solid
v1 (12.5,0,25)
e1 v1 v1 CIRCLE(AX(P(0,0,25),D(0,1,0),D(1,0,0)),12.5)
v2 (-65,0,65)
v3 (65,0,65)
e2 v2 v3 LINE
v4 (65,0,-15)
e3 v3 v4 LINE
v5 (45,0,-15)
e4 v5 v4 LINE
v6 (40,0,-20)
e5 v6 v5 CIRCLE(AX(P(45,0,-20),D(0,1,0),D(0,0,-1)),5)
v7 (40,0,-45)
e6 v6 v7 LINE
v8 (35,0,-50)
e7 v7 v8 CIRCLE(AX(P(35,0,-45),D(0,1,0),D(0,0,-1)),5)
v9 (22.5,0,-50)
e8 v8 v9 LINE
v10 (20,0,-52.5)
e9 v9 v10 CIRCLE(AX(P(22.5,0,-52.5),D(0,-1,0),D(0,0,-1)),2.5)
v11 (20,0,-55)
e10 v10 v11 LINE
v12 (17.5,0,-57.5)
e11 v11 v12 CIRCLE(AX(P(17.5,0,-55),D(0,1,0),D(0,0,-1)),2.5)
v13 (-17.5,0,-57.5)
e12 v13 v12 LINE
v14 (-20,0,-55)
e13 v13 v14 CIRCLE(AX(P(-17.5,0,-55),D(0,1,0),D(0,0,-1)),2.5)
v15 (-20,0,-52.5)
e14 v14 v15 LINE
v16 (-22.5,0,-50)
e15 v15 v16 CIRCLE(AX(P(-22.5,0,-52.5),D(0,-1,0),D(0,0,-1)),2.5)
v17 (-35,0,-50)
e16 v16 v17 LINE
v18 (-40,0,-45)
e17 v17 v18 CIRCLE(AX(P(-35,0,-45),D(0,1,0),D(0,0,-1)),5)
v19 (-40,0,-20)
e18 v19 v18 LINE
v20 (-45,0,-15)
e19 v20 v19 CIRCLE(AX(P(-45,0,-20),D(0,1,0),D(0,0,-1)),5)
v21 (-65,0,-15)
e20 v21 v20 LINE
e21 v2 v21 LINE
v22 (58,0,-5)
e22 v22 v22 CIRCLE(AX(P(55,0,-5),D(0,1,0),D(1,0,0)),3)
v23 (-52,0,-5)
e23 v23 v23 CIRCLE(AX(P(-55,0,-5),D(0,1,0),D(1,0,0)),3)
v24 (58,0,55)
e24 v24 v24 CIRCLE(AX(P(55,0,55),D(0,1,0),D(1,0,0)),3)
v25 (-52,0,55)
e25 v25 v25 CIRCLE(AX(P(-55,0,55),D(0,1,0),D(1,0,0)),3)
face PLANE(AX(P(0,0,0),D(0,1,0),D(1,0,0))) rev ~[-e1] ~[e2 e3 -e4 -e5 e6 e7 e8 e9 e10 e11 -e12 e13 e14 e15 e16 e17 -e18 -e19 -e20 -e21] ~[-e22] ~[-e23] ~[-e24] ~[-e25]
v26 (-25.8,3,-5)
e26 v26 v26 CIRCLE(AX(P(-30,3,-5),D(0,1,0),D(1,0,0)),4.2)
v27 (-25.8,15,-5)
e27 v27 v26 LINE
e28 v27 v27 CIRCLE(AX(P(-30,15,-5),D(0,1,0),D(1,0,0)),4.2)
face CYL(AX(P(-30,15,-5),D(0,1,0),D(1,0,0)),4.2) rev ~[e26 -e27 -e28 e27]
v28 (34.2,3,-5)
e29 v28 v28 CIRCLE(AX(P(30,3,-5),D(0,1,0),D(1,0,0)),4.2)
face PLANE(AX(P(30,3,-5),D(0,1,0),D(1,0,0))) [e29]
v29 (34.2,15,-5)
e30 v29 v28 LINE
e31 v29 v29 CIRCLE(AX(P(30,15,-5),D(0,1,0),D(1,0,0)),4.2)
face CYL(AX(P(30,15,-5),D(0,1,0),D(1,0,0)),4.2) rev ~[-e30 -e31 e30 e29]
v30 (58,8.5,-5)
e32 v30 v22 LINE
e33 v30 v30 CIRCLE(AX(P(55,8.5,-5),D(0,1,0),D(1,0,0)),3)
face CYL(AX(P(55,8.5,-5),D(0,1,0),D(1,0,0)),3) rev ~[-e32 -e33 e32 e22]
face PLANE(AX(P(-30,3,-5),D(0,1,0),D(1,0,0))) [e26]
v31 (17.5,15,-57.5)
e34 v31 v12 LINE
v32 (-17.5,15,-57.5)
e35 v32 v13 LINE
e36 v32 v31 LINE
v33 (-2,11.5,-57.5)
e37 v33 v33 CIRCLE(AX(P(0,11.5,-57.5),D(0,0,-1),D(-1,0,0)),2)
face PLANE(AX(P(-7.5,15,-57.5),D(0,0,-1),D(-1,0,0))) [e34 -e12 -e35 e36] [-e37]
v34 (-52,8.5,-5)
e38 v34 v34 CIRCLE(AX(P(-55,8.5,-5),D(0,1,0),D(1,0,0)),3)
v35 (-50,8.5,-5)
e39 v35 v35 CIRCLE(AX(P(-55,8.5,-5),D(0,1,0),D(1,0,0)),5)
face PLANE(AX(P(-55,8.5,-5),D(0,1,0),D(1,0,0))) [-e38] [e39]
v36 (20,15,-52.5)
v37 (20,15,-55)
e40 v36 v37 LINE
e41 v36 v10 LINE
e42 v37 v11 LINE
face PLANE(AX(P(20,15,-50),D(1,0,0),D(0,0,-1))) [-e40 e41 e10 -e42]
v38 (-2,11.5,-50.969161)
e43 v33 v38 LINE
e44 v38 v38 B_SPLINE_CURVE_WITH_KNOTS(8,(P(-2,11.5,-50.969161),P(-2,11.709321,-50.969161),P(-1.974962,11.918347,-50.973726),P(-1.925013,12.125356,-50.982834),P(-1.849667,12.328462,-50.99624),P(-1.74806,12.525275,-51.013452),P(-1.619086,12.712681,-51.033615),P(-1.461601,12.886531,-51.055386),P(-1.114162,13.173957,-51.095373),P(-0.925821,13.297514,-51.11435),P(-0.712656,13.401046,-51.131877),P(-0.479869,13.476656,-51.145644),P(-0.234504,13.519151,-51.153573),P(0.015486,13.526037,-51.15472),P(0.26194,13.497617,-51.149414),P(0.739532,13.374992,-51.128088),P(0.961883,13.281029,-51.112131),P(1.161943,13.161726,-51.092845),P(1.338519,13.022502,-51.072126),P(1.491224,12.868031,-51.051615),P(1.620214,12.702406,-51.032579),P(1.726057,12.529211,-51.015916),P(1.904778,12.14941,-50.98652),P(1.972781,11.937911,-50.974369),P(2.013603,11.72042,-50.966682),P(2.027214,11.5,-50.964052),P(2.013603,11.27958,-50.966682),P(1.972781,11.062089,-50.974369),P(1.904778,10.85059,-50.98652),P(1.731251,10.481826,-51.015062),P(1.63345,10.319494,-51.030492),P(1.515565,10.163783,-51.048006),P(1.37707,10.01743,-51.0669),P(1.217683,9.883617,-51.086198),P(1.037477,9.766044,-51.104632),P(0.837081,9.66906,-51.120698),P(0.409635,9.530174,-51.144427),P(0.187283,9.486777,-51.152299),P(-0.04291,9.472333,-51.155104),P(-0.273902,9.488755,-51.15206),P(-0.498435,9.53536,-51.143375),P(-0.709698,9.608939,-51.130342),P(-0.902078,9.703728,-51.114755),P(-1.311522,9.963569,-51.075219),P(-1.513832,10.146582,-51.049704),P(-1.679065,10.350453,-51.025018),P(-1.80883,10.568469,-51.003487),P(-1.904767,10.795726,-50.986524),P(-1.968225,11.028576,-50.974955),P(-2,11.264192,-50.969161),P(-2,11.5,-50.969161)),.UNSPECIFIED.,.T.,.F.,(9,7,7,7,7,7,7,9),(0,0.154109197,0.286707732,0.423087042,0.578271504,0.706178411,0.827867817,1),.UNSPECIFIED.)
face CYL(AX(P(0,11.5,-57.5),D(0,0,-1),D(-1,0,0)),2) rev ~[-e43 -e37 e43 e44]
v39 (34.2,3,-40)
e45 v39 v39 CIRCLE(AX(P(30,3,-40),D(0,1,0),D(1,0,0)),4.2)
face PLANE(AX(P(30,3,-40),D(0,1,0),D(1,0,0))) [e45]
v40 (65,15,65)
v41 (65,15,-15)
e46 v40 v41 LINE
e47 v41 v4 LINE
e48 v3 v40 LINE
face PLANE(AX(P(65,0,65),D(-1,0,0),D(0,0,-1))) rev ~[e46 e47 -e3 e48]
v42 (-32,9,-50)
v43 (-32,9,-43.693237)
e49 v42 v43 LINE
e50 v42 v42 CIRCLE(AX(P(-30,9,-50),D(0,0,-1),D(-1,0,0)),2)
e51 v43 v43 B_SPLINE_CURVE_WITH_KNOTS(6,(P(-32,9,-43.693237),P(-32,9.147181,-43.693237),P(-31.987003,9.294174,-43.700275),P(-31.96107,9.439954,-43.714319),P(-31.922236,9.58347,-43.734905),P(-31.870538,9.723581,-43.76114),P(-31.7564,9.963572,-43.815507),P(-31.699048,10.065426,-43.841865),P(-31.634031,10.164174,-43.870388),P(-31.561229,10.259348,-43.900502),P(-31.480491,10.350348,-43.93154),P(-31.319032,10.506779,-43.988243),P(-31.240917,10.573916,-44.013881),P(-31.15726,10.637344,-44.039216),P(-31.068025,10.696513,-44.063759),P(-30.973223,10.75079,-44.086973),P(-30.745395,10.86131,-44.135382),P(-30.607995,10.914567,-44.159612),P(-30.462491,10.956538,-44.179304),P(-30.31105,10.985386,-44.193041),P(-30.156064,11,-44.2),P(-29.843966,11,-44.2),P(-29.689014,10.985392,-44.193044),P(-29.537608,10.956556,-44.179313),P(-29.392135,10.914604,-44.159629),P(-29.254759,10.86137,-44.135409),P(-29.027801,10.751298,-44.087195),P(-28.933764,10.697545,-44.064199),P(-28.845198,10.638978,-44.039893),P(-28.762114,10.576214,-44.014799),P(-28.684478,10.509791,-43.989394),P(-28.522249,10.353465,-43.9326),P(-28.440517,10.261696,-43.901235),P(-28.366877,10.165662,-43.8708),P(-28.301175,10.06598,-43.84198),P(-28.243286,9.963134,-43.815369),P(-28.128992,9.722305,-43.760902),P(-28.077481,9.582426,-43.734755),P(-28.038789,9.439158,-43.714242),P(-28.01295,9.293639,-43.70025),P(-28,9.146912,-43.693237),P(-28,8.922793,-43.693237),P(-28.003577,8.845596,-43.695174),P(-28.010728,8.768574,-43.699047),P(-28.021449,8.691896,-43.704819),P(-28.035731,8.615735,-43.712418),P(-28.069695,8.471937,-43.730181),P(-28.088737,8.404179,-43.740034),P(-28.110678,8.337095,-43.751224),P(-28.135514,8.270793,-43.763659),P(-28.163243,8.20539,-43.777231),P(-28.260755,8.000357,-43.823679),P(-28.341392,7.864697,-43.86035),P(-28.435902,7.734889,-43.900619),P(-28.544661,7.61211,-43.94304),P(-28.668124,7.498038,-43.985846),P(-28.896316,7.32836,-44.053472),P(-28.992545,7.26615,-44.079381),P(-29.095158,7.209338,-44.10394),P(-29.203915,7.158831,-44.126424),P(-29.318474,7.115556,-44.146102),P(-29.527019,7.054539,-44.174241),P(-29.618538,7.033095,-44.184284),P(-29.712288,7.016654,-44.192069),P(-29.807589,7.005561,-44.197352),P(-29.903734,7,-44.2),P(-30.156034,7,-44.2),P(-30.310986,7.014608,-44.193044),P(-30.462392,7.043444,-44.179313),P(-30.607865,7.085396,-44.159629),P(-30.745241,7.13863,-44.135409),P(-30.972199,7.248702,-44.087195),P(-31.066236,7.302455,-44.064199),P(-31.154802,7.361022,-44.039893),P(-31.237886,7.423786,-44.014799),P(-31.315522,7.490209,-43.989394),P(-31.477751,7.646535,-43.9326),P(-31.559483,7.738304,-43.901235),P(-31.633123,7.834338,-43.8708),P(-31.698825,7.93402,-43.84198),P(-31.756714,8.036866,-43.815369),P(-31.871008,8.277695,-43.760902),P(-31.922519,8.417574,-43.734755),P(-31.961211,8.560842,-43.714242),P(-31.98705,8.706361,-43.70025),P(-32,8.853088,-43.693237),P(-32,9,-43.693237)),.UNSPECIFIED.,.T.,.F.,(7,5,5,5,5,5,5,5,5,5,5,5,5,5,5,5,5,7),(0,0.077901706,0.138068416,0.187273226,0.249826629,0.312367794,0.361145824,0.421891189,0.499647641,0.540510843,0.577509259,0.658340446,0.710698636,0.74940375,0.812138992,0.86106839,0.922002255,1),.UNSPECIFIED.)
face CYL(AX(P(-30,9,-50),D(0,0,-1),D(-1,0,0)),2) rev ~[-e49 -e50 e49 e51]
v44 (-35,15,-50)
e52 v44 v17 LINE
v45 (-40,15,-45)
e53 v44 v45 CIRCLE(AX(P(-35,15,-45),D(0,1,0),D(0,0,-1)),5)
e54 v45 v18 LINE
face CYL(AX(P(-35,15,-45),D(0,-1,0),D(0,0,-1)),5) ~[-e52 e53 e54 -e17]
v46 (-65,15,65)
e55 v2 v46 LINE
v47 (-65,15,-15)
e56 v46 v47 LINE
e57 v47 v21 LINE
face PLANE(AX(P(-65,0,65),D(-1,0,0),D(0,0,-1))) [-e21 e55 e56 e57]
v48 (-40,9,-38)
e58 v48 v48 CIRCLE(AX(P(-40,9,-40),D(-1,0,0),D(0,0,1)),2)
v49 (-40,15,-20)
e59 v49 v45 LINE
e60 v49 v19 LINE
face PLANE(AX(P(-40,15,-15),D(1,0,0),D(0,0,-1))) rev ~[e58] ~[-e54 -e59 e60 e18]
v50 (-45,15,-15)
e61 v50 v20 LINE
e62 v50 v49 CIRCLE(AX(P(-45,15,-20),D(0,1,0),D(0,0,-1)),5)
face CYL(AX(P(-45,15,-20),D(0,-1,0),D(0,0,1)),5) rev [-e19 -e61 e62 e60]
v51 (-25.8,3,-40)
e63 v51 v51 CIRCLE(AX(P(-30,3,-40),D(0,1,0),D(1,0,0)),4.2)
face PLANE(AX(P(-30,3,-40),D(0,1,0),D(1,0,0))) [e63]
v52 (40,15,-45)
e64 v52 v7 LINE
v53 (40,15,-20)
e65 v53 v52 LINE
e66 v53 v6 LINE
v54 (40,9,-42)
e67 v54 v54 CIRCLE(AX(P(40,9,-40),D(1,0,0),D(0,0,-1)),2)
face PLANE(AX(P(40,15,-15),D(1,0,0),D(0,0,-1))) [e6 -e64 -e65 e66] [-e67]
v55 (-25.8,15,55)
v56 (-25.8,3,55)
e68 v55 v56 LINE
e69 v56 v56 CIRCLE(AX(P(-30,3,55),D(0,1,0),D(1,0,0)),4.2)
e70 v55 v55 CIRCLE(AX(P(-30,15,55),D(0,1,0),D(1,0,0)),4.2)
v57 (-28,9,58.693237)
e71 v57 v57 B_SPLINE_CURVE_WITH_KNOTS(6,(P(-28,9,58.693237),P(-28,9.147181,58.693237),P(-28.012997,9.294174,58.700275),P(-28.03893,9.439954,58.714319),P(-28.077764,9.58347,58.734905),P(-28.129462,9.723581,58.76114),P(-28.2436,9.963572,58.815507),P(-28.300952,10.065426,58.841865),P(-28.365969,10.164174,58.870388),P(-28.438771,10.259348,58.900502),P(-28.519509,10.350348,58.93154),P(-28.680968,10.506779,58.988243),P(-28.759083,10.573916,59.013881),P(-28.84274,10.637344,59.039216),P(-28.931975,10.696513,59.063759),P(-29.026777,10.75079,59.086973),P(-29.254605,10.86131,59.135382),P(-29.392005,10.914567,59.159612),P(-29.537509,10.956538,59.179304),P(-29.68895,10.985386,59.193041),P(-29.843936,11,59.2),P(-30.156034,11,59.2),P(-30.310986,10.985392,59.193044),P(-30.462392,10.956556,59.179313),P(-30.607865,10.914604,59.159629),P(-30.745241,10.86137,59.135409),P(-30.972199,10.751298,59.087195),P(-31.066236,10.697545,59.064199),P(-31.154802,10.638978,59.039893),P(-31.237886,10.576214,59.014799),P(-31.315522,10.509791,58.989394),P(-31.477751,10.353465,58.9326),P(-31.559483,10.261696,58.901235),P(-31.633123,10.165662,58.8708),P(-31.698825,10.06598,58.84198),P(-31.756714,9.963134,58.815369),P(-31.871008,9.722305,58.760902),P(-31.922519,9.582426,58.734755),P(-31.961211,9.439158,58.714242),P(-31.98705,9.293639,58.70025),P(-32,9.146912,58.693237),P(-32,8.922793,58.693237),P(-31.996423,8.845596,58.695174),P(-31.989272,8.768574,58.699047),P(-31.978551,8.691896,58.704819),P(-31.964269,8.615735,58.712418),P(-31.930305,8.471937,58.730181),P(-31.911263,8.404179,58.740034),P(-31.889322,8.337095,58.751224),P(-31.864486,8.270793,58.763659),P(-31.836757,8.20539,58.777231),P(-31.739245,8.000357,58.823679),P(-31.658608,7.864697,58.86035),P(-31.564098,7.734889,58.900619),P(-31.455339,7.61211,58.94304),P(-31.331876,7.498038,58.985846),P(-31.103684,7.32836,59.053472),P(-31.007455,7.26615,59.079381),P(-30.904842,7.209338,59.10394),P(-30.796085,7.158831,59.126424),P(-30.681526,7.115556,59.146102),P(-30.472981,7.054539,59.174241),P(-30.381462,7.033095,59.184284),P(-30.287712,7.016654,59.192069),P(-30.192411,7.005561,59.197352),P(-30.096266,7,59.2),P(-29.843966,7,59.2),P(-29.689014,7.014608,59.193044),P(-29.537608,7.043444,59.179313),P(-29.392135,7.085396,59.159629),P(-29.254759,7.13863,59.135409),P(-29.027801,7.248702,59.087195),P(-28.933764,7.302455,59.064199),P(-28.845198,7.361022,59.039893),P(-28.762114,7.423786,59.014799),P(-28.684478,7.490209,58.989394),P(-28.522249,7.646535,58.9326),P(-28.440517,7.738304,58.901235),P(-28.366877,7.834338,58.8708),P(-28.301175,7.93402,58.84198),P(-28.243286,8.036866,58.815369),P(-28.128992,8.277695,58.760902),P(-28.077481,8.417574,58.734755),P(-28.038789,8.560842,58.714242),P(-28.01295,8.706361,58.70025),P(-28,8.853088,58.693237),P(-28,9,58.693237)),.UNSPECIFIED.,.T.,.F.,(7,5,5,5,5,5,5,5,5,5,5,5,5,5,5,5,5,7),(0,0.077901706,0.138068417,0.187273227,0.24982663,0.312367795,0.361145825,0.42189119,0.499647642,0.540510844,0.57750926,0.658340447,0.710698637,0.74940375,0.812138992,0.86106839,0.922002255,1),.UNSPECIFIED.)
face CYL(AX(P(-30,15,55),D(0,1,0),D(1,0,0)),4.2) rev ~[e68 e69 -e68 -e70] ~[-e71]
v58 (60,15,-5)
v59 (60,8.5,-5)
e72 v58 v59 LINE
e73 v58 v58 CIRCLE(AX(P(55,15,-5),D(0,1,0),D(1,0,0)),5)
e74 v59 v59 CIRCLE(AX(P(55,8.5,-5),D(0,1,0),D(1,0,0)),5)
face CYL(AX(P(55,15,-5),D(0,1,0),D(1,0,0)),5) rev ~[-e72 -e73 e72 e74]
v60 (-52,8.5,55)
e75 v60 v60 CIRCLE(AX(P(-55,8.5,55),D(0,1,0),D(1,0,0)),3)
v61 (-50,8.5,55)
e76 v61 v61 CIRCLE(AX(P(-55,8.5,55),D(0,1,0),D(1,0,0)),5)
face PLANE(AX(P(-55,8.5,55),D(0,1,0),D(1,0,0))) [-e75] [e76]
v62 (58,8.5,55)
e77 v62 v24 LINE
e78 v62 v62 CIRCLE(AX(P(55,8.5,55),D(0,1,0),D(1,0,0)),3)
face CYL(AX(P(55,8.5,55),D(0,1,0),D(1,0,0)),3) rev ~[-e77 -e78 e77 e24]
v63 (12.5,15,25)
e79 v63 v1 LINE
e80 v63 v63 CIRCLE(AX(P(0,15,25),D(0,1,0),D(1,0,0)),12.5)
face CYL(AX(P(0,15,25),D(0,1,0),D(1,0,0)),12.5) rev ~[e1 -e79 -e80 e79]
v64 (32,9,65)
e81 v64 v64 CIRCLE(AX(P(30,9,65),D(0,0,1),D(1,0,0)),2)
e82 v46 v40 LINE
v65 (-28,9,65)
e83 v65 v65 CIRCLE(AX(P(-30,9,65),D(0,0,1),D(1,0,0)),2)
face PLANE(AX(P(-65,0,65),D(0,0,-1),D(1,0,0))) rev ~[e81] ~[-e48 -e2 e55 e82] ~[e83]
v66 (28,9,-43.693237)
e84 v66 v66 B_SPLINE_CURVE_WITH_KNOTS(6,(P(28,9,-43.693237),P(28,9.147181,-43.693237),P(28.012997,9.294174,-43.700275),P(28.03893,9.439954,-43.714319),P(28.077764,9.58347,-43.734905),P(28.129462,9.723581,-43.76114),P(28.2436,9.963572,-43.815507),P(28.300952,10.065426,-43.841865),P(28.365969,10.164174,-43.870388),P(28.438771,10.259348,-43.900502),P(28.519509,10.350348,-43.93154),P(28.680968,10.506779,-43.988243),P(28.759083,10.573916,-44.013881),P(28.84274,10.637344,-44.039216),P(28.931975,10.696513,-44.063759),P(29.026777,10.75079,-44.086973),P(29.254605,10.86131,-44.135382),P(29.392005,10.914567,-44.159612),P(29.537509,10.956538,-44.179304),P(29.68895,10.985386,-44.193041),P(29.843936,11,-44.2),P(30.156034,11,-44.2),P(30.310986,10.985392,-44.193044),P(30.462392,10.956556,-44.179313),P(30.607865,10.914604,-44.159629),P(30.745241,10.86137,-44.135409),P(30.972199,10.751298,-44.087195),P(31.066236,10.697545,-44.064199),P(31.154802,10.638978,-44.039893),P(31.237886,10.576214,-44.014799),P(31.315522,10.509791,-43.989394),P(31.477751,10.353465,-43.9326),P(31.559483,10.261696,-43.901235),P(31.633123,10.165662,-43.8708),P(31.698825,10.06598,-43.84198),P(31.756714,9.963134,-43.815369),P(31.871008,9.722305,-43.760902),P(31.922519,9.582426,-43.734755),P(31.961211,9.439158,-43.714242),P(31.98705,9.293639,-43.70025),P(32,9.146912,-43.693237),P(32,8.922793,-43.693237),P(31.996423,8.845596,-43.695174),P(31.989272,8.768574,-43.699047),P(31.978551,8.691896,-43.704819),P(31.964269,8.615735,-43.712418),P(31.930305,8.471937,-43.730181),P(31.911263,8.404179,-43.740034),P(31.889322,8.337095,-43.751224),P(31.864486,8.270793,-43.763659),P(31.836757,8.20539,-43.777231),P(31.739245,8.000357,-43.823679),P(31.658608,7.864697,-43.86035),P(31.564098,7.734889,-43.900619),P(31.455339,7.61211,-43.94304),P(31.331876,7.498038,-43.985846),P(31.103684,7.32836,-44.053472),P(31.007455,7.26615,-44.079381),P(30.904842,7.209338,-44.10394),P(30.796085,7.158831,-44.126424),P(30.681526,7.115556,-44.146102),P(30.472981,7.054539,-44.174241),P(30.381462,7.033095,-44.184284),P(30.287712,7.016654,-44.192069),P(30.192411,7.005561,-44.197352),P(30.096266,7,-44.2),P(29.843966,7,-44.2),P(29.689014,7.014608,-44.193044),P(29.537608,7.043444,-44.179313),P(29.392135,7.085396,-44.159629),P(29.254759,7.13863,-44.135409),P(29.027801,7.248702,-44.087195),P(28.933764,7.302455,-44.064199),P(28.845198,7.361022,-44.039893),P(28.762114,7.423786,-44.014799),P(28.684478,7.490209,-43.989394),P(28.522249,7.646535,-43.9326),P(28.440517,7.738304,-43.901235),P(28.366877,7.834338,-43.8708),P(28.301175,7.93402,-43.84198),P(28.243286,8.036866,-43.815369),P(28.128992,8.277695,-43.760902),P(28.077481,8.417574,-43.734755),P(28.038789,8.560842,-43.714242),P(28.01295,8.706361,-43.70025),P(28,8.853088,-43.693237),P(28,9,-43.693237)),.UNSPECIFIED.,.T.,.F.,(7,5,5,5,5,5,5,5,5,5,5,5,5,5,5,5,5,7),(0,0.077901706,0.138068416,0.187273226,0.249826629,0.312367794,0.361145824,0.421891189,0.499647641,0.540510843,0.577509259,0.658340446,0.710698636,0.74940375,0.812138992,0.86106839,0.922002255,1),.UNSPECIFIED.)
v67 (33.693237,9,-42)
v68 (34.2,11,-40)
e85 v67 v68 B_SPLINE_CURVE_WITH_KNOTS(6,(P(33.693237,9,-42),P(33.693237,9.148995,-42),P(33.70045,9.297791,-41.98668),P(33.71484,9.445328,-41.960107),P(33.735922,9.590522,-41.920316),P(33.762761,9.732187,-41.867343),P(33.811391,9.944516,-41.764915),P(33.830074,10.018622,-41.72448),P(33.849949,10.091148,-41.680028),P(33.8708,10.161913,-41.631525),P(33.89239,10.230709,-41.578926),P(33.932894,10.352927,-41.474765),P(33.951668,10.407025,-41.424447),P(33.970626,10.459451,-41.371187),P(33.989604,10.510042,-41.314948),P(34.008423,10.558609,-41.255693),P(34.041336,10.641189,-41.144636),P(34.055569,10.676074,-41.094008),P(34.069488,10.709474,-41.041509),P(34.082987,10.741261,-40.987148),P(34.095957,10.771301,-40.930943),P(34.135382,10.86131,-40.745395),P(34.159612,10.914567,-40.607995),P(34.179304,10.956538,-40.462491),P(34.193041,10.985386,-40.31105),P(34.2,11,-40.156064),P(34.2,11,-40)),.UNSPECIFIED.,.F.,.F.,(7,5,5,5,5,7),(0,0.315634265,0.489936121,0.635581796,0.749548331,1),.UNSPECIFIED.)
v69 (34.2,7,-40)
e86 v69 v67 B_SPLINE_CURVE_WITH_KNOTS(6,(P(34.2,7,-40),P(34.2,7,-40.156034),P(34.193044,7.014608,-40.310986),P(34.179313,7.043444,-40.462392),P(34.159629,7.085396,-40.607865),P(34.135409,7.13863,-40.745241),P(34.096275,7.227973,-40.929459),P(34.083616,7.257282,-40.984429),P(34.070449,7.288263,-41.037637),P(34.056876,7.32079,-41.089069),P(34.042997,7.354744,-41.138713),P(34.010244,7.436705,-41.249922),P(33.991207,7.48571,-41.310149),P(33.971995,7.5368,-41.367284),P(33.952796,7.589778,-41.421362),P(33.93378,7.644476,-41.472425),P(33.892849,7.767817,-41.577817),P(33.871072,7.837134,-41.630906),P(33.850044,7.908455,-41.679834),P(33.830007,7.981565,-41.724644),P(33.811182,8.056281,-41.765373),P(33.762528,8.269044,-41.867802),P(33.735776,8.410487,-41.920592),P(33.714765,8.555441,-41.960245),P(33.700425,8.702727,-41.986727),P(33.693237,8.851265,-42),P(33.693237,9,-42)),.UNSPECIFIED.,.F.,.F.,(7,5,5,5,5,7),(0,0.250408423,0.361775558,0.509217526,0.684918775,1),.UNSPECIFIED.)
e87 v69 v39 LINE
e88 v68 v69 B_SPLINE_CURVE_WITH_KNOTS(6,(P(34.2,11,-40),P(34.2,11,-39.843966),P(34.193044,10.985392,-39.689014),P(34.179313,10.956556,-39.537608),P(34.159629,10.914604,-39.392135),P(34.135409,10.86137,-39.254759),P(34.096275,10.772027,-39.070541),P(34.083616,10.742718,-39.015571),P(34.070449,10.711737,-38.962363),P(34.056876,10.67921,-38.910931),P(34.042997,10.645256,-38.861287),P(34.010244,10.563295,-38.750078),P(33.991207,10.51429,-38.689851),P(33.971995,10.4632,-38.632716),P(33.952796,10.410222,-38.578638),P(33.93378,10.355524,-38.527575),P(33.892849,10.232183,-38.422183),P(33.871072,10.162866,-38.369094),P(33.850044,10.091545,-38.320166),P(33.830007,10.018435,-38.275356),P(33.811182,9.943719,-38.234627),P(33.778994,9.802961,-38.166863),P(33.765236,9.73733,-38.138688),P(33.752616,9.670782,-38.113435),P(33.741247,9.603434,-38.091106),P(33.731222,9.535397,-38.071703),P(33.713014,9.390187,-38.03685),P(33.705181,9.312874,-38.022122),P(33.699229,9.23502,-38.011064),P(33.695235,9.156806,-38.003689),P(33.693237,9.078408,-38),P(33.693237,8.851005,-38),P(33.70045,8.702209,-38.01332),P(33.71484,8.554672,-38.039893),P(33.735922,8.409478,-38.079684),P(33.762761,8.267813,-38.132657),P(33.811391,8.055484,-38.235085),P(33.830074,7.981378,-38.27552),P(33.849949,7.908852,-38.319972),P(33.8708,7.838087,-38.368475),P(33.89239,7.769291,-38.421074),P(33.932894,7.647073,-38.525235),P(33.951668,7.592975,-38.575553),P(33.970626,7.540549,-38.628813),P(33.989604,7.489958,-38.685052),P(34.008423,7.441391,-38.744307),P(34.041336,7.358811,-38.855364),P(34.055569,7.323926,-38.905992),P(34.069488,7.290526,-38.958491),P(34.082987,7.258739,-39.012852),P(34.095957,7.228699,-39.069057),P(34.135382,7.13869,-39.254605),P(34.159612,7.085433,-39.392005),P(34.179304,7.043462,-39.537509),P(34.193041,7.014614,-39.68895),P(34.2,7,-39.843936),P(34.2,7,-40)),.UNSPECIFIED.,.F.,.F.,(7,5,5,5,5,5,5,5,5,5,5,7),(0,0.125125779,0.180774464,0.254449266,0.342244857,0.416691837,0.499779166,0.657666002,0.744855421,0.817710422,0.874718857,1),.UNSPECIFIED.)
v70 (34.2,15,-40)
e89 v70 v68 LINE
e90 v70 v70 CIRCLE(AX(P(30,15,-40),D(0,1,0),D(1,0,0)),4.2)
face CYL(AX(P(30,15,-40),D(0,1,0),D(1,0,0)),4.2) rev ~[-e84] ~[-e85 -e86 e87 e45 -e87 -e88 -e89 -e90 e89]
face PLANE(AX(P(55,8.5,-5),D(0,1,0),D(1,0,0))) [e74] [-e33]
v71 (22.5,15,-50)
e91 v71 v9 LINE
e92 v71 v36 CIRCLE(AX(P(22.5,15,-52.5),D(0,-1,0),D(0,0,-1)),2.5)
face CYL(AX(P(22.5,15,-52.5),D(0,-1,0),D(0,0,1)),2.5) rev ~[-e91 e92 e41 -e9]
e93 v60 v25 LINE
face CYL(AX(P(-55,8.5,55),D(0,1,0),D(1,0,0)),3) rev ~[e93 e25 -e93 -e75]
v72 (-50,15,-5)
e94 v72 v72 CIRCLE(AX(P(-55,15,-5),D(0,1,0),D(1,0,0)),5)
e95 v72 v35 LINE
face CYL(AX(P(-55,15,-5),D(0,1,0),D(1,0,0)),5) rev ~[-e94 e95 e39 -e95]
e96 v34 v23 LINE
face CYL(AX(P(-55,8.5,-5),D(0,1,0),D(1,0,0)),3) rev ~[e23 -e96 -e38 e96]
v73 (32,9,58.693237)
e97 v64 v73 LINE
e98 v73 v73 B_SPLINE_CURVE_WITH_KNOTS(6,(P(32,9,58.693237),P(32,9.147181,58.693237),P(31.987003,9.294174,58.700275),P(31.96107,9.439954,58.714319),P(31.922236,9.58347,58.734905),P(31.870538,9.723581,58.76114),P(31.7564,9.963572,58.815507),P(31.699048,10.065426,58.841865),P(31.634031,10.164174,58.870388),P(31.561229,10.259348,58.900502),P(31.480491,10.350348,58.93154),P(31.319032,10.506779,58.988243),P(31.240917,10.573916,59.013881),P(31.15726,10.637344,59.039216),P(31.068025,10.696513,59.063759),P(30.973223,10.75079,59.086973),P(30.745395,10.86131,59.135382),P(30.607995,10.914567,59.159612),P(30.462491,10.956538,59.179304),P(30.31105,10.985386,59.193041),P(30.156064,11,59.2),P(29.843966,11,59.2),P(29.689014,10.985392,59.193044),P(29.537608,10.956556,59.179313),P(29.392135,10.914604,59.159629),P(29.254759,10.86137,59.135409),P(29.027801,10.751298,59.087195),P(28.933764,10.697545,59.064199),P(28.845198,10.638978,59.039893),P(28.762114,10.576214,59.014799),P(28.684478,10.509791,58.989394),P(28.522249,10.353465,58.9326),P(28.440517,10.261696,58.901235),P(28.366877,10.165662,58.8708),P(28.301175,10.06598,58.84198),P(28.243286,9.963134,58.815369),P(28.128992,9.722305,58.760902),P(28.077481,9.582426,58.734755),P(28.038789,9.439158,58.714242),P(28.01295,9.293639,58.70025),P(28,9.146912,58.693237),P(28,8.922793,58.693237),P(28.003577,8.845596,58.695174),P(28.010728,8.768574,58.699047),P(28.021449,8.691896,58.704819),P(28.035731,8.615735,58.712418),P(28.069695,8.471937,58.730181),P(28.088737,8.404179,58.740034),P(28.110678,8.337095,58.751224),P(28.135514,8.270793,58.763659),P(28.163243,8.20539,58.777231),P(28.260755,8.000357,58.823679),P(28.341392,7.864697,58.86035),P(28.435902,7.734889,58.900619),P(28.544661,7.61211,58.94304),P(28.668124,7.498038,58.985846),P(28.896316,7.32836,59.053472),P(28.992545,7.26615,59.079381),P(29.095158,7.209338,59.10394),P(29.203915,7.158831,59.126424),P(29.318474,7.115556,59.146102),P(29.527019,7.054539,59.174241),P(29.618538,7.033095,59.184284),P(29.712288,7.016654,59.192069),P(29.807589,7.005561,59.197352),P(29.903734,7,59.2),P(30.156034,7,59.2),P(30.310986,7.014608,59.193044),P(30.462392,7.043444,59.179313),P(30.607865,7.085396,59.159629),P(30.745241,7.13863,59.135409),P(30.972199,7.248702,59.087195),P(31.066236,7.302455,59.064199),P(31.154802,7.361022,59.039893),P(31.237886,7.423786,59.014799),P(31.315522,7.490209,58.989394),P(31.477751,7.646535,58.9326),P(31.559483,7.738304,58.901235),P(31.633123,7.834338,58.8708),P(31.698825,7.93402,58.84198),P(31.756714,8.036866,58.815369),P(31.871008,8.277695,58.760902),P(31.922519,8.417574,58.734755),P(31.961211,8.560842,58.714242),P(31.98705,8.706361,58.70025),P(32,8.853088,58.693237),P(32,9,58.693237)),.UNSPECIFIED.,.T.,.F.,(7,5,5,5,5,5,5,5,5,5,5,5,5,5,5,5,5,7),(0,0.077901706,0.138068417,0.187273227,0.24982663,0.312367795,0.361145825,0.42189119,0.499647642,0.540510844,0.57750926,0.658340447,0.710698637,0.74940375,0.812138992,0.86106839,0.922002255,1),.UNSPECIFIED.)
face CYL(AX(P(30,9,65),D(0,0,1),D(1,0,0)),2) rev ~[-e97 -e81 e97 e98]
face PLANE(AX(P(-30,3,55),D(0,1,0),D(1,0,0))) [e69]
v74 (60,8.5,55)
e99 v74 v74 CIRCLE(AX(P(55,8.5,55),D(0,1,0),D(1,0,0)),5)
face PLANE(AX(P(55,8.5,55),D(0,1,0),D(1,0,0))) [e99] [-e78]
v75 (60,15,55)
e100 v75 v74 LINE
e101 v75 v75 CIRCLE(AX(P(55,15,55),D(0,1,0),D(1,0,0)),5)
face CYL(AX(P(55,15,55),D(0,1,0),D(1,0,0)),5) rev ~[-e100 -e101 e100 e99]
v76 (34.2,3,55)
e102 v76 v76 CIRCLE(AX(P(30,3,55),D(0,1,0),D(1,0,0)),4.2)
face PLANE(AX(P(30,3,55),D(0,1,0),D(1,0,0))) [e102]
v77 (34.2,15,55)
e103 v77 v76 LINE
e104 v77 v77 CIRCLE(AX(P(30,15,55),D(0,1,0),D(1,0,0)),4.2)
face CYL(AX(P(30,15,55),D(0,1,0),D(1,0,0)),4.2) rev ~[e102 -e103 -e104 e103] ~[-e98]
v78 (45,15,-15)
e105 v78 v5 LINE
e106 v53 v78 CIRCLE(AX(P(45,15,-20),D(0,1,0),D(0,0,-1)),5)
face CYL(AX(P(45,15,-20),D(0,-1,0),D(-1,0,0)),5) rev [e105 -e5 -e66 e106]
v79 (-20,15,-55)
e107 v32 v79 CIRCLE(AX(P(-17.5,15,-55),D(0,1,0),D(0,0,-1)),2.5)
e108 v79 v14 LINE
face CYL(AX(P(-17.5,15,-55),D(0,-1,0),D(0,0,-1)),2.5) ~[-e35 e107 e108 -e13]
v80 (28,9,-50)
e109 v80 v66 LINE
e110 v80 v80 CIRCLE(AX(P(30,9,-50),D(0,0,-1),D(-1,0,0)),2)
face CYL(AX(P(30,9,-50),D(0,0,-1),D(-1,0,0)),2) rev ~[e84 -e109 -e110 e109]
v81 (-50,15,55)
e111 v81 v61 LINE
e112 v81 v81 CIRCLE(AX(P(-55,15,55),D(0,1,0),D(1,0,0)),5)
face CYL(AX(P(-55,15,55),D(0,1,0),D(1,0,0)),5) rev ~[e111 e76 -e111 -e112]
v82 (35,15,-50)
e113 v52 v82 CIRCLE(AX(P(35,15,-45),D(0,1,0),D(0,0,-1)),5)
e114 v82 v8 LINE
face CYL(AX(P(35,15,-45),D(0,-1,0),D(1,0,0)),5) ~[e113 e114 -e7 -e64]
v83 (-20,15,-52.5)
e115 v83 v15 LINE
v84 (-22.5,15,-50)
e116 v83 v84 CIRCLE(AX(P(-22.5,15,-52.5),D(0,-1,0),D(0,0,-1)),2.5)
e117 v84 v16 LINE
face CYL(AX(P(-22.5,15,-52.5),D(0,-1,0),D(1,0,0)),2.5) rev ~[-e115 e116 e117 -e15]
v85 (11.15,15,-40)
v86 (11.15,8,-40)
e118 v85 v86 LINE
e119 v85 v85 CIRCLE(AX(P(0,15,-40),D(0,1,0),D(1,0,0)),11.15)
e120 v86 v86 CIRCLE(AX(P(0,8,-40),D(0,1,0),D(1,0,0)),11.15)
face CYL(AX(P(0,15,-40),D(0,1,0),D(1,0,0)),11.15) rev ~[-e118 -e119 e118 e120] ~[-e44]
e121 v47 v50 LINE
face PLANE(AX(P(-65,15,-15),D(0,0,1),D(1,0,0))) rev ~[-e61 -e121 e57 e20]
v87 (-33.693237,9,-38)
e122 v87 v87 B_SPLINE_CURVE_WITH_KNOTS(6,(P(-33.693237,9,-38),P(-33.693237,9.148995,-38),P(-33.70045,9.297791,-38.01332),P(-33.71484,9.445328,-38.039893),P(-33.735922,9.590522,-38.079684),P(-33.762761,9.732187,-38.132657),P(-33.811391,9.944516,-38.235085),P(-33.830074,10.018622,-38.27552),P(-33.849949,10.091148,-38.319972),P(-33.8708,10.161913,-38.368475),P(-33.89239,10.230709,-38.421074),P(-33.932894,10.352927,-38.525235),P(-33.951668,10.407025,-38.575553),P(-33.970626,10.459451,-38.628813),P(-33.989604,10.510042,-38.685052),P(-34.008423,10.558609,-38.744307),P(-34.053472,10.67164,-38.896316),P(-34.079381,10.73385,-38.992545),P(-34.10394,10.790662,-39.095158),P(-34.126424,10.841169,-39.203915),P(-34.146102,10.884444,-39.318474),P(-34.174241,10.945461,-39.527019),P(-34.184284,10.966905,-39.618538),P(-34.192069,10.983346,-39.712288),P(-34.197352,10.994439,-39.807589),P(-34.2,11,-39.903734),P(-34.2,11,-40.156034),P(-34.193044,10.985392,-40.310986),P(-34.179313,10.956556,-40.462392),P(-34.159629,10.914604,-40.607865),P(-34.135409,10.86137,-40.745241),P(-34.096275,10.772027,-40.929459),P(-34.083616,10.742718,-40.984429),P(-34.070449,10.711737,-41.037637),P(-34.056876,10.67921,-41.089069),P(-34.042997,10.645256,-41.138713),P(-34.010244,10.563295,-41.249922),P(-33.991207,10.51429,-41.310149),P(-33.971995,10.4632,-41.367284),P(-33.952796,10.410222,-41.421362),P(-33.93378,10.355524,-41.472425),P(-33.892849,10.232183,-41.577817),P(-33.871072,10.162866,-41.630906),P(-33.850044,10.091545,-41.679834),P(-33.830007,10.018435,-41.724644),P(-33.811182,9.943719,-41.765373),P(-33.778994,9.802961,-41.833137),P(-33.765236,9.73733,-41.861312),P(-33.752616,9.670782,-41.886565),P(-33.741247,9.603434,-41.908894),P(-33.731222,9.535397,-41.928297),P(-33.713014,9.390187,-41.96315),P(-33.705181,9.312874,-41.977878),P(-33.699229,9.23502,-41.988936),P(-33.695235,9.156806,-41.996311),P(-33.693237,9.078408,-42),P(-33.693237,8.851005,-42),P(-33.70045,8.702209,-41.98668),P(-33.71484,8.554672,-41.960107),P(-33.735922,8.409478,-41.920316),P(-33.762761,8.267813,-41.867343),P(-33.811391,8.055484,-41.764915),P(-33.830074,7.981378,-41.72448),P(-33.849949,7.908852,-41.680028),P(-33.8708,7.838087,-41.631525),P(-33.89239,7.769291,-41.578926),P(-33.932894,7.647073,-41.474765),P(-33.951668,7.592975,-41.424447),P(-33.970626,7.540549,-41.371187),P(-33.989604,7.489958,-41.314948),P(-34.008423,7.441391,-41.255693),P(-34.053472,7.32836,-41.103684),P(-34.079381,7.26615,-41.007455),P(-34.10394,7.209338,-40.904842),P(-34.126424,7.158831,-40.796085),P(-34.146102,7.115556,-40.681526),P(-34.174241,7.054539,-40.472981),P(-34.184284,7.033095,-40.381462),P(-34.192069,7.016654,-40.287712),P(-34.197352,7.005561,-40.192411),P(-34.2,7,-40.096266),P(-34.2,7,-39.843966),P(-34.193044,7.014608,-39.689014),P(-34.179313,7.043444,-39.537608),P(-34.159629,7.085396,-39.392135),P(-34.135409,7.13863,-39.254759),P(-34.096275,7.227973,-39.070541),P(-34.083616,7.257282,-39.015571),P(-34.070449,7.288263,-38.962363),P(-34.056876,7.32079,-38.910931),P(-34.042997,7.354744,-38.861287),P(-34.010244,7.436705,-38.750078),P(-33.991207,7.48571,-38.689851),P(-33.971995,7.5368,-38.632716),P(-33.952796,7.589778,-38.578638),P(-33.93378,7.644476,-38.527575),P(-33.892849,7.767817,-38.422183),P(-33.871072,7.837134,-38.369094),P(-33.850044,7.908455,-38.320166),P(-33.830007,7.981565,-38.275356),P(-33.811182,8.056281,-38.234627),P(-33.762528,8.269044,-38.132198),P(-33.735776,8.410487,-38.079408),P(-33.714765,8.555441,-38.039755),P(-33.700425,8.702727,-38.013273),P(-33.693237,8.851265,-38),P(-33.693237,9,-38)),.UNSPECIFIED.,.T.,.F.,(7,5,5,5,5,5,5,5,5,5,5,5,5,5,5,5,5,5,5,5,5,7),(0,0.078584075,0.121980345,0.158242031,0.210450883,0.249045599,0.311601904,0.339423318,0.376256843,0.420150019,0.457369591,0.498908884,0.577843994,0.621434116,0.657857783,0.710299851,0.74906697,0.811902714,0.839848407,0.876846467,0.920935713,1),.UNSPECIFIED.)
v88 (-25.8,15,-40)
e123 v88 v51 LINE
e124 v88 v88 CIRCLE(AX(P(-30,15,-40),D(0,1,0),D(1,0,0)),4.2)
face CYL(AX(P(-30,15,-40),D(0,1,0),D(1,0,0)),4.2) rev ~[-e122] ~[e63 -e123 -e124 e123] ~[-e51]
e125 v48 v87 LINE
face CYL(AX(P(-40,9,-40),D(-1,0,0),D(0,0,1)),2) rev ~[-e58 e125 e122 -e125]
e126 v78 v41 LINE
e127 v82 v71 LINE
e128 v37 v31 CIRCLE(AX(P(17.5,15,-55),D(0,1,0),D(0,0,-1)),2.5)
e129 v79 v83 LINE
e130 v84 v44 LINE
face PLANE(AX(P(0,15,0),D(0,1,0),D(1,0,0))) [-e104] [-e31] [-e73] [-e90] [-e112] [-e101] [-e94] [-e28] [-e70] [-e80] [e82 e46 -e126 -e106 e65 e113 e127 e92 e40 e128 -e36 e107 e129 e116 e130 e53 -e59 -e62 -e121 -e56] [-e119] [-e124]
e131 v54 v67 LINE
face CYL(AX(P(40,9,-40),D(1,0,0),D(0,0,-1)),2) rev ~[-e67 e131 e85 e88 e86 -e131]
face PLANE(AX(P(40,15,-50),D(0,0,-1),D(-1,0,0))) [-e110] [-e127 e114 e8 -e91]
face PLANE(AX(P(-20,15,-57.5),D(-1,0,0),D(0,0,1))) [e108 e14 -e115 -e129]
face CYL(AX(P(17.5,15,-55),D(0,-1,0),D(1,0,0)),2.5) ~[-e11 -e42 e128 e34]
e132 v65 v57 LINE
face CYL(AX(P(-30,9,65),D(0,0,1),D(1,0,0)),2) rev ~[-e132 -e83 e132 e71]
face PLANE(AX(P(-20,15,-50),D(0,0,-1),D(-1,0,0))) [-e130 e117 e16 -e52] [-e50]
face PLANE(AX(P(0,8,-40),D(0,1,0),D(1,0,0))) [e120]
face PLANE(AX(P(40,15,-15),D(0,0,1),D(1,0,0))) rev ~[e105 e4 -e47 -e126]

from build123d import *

# Parameters (mm, degrees)
ESBO_O1_W                = 130
ESBO_O1_H                = 130
RESSALTO_EXTRUS_O1_DEPTH = 15
ESBO_O2_R                = 4.2
CORTE_EXTRUS_O1_DEPTH    = 12
ESBO_O3_R                = 12.5
CORTE_EXTRUS_O2_DEPTH    = 16
ESBO_O4_R                = 11.15
CORTE_EXTRUS_O3_DEPTH    = 7
ESBO_O5_W                = 25
ESBO_O5_H                = 50
CORTE_EXTRUS_O4_DEPTH    = 16
FILETE1_R                = 5
ESBO_O6_R                = 5
CORTE_EXTRUS_O5_DEPTH    = 6.5
ESBO_O7_R                = 3
CORTE_EXTRUS_O6_DEPTH    = 9.5
ESBO_O8_W                = 15
ESBO_O8_H                = 15
CORTE_EXTRUS_O7_DEPTH    = 16
ESBO_O9_R                = 2
CORTE_EXTRUS_O8_DEPTH    = 10
ESBO_O10_R               = 2
CORTE_EXTRUS_O9_DEPTH    = 10
ESBO_O11_R               = 2
CORTE_EXTRUS_O10_DEPTH   = 10
ESBO_O12_R               = 2
CORTE_EXTRUS_O11_DEPTH   = 10
FILETE2_R                = 5
CORTE_EXTRUS_O12_DEPTH   = 16
ESBO_O14_R               = 2
CORTE_EXTRUS_O13_DEPTH   = 10
FILETE4_R                = 5
FILETE5_R                = 2.5


with BuildPart() as part:
    # Esboço1 → Ressalto-extrusão1 (new body)
    with BuildSketch(Plane(origin=(0, 0, 0), x_dir=(1, 0, 0), z_dir=(0, 1, 0))):
        Rectangle(ESBO_O1_W, ESBO_O1_H)
    extrude(amount=RESSALTO_EXTRUS_O1_DEPTH)

    # Esboço2 → Corte-extrusão1 (cut)
    with BuildSketch(Plane(origin=(0, 15, 0), x_dir=(1, 0, 0), z_dir=(0, 1, 0))):
        with Locations((-30, 5)):
            Circle(ESBO_O2_R)
        with Locations((30, 5)):
            Circle(ESBO_O2_R)
        with Locations((30, -55)):
            Circle(ESBO_O2_R)
        with Locations((-30, -55)):
            Circle(ESBO_O2_R)
        with Locations((-30, 40)):
            Circle(ESBO_O2_R)
        with Locations((30, 40)):
            Circle(ESBO_O2_R)
    extrude(amount=-CORTE_EXTRUS_O1_DEPTH, mode=Mode.SUBTRACT)

    # Esboço3 → Corte-extrusão2 (cut, through all)
    with BuildSketch(Plane(origin=(0, 15, 0), x_dir=(1, 0, 0), z_dir=(0, 1, 0))):
        with Locations((0, -25)):
            Circle(ESBO_O3_R)
    extrude(amount=-CORTE_EXTRUS_O2_DEPTH, mode=Mode.SUBTRACT)

    # Esboço4 → Corte-extrusão3 (cut)
    with BuildSketch(Plane(origin=(0, 15, 0), x_dir=(1, 0, 0), z_dir=(0, 1, 0))):
        with Locations((0, 40)):
            Circle(ESBO_O4_R)
    extrude(amount=-CORTE_EXTRUS_O3_DEPTH, mode=Mode.SUBTRACT)

    # Esboço5 → Corte-extrusão4 (cut, through all)
    with BuildSketch(Plane(origin=(0, 15, 0), x_dir=(1, 0, 0), z_dir=(0, 1, 0))):
        with Locations((-52.5, 40)):
            Rectangle(ESBO_O5_W, ESBO_O5_H)
        with Locations((52.5, 40)):
            Rectangle(ESBO_O5_W, ESBO_O5_H)
    extrude(amount=-CORTE_EXTRUS_O4_DEPTH, mode=Mode.SUBTRACT)

    # Filete1
    filete1_edges = [part.edges().sort_by_distance(p)[0] for p in [
        (-40, 7.5, -65),
        (40, 7.5, -65),
    ]]
    fillet(filete1_edges, radius=FILETE1_R)

    # Esboço6 → Corte-extrusão5 (cut)
    with BuildSketch(Plane(origin=(0, 15, 0), x_dir=(1, 0, 0), z_dir=(0, 1, 0))):
        with Locations((-55, 5)):
            Circle(ESBO_O6_R)
        with Locations((55, 5)):
            Circle(ESBO_O6_R)
        with Locations((55, -55)):
            Circle(ESBO_O6_R)
        with Locations((-55, -55)):
            Circle(ESBO_O6_R)
    extrude(amount=-CORTE_EXTRUS_O5_DEPTH, mode=Mode.SUBTRACT)

    # Esboço7 → Corte-extrusão6 (cut, through all)
    with BuildSketch(Plane(origin=(0, 8.5, 0), x_dir=(1, 0, 0), z_dir=(0, 1, 0))):
        with Locations((-55, 5)):
            Circle(ESBO_O7_R)
        with Locations((55, 5)):
            Circle(ESBO_O7_R)
        with Locations((55, -55)):
            Circle(ESBO_O7_R)
        with Locations((-55, -55)):
            Circle(ESBO_O7_R)
    extrude(amount=-CORTE_EXTRUS_O6_DEPTH, mode=Mode.SUBTRACT)

    # Esboço8 → Corte-extrusão7 (cut, through all)
    with BuildSketch(Plane(origin=(0, 15, 0), x_dir=(1, 0, 0), z_dir=(0, 1, 0))):
        with Locations((0, 65)):
            Rectangle(ESBO_O8_W, ESBO_O8_H)
    extrude(amount=-CORTE_EXTRUS_O7_DEPTH, mode=Mode.SUBTRACT)

    # Esboço9 → Corte-extrusão8 (cut)
    with BuildSketch(Plane(origin=(0, 0, -57.5), x_dir=(-1, 0, 0), z_dir=(0, 0, -1))):
        with Locations((0, 11.5)):
            Circle(ESBO_O9_R)
    extrude(amount=-CORTE_EXTRUS_O8_DEPTH, mode=Mode.SUBTRACT)

    # Esboço10 → Corte-extrusão9 (cut)
    with BuildSketch(Plane.ZY.offset(40)):
        with Locations((-40, 9)):
            Circle(ESBO_O10_R)
    extrude(amount=-CORTE_EXTRUS_O9_DEPTH, mode=Mode.SUBTRACT)

    # Esboço11 → Corte-extrusão10 (cut)
    with BuildSketch(Plane(origin=(40, 0, 0), x_dir=(0, 0, -1), z_dir=(1, 0, 0))):
        with Locations((40, 9)):
            Circle(ESBO_O11_R)
    extrude(amount=-CORTE_EXTRUS_O10_DEPTH, mode=Mode.SUBTRACT)

    # Esboço12 → Corte-extrusão11 (cut)
    with BuildSketch(Plane.XY.offset(65)):
        with Locations((-30, 9)):
            Circle(ESBO_O12_R)
        with Locations((30, 9)):
            Circle(ESBO_O12_R)
    extrude(amount=-CORTE_EXTRUS_O11_DEPTH, mode=Mode.SUBTRACT)

    # Filete2
    filete2_edges = [part.edges().sort_by_distance(p)[0] for p in [
        (-40, 7.5, -15),
        (40, 7.5, -15),
    ]]
    fillet(filete2_edges, radius=FILETE2_R)

    # Esboço13 → Corte-extrusão12 (cut, through all)
    with BuildSketch(Plane(origin=(0, 15, 0), x_dir=(1, 0, 0), z_dir=(0, 1, 0))):
        Polygon((-7.5, 57.5), (-20, 57.5), (-20, 50), (-40, 50), (-40, 57.5), (-40, 65), (-7.5, 65), align=None)
        Polygon((7.5, 57.5), (7.5, 65), (40, 65), (40, 57.5), (40, 50), (20, 50), (20, 57.5), align=None)
    extrude(amount=-CORTE_EXTRUS_O12_DEPTH, mode=Mode.SUBTRACT)

    # Esboço14 → Corte-extrusão13 (cut)
    with BuildSketch(Plane(origin=(0, 0, -50), x_dir=(-1, 0, 0), z_dir=(0, 0, -1))):
        with Locations((-30, 9)):
            Circle(ESBO_O14_R)
        with Locations((30, 9)):
            Circle(ESBO_O14_R)
    extrude(amount=-CORTE_EXTRUS_O13_DEPTH, mode=Mode.SUBTRACT)

    # Filete4
    filete4_edges = [part.edges().sort_by_distance(p)[0] for p in [
        (-40, 7.5, -50),
        (40, 7.5, -50),
    ]]
    fillet(filete4_edges, radius=FILETE4_R)

    # Filete5
    filete5_edges = [part.edges().sort_by_distance(p)[0] for p in [
        (-20, 7.5, -57.5),
        (-20, 7.5, -50),
        (20, 7.5, -57.5),
        (20, 7.5, -50),
    ]]
    fillet(filete5_edges, radius=FILETE5_R)


solid = part.part
